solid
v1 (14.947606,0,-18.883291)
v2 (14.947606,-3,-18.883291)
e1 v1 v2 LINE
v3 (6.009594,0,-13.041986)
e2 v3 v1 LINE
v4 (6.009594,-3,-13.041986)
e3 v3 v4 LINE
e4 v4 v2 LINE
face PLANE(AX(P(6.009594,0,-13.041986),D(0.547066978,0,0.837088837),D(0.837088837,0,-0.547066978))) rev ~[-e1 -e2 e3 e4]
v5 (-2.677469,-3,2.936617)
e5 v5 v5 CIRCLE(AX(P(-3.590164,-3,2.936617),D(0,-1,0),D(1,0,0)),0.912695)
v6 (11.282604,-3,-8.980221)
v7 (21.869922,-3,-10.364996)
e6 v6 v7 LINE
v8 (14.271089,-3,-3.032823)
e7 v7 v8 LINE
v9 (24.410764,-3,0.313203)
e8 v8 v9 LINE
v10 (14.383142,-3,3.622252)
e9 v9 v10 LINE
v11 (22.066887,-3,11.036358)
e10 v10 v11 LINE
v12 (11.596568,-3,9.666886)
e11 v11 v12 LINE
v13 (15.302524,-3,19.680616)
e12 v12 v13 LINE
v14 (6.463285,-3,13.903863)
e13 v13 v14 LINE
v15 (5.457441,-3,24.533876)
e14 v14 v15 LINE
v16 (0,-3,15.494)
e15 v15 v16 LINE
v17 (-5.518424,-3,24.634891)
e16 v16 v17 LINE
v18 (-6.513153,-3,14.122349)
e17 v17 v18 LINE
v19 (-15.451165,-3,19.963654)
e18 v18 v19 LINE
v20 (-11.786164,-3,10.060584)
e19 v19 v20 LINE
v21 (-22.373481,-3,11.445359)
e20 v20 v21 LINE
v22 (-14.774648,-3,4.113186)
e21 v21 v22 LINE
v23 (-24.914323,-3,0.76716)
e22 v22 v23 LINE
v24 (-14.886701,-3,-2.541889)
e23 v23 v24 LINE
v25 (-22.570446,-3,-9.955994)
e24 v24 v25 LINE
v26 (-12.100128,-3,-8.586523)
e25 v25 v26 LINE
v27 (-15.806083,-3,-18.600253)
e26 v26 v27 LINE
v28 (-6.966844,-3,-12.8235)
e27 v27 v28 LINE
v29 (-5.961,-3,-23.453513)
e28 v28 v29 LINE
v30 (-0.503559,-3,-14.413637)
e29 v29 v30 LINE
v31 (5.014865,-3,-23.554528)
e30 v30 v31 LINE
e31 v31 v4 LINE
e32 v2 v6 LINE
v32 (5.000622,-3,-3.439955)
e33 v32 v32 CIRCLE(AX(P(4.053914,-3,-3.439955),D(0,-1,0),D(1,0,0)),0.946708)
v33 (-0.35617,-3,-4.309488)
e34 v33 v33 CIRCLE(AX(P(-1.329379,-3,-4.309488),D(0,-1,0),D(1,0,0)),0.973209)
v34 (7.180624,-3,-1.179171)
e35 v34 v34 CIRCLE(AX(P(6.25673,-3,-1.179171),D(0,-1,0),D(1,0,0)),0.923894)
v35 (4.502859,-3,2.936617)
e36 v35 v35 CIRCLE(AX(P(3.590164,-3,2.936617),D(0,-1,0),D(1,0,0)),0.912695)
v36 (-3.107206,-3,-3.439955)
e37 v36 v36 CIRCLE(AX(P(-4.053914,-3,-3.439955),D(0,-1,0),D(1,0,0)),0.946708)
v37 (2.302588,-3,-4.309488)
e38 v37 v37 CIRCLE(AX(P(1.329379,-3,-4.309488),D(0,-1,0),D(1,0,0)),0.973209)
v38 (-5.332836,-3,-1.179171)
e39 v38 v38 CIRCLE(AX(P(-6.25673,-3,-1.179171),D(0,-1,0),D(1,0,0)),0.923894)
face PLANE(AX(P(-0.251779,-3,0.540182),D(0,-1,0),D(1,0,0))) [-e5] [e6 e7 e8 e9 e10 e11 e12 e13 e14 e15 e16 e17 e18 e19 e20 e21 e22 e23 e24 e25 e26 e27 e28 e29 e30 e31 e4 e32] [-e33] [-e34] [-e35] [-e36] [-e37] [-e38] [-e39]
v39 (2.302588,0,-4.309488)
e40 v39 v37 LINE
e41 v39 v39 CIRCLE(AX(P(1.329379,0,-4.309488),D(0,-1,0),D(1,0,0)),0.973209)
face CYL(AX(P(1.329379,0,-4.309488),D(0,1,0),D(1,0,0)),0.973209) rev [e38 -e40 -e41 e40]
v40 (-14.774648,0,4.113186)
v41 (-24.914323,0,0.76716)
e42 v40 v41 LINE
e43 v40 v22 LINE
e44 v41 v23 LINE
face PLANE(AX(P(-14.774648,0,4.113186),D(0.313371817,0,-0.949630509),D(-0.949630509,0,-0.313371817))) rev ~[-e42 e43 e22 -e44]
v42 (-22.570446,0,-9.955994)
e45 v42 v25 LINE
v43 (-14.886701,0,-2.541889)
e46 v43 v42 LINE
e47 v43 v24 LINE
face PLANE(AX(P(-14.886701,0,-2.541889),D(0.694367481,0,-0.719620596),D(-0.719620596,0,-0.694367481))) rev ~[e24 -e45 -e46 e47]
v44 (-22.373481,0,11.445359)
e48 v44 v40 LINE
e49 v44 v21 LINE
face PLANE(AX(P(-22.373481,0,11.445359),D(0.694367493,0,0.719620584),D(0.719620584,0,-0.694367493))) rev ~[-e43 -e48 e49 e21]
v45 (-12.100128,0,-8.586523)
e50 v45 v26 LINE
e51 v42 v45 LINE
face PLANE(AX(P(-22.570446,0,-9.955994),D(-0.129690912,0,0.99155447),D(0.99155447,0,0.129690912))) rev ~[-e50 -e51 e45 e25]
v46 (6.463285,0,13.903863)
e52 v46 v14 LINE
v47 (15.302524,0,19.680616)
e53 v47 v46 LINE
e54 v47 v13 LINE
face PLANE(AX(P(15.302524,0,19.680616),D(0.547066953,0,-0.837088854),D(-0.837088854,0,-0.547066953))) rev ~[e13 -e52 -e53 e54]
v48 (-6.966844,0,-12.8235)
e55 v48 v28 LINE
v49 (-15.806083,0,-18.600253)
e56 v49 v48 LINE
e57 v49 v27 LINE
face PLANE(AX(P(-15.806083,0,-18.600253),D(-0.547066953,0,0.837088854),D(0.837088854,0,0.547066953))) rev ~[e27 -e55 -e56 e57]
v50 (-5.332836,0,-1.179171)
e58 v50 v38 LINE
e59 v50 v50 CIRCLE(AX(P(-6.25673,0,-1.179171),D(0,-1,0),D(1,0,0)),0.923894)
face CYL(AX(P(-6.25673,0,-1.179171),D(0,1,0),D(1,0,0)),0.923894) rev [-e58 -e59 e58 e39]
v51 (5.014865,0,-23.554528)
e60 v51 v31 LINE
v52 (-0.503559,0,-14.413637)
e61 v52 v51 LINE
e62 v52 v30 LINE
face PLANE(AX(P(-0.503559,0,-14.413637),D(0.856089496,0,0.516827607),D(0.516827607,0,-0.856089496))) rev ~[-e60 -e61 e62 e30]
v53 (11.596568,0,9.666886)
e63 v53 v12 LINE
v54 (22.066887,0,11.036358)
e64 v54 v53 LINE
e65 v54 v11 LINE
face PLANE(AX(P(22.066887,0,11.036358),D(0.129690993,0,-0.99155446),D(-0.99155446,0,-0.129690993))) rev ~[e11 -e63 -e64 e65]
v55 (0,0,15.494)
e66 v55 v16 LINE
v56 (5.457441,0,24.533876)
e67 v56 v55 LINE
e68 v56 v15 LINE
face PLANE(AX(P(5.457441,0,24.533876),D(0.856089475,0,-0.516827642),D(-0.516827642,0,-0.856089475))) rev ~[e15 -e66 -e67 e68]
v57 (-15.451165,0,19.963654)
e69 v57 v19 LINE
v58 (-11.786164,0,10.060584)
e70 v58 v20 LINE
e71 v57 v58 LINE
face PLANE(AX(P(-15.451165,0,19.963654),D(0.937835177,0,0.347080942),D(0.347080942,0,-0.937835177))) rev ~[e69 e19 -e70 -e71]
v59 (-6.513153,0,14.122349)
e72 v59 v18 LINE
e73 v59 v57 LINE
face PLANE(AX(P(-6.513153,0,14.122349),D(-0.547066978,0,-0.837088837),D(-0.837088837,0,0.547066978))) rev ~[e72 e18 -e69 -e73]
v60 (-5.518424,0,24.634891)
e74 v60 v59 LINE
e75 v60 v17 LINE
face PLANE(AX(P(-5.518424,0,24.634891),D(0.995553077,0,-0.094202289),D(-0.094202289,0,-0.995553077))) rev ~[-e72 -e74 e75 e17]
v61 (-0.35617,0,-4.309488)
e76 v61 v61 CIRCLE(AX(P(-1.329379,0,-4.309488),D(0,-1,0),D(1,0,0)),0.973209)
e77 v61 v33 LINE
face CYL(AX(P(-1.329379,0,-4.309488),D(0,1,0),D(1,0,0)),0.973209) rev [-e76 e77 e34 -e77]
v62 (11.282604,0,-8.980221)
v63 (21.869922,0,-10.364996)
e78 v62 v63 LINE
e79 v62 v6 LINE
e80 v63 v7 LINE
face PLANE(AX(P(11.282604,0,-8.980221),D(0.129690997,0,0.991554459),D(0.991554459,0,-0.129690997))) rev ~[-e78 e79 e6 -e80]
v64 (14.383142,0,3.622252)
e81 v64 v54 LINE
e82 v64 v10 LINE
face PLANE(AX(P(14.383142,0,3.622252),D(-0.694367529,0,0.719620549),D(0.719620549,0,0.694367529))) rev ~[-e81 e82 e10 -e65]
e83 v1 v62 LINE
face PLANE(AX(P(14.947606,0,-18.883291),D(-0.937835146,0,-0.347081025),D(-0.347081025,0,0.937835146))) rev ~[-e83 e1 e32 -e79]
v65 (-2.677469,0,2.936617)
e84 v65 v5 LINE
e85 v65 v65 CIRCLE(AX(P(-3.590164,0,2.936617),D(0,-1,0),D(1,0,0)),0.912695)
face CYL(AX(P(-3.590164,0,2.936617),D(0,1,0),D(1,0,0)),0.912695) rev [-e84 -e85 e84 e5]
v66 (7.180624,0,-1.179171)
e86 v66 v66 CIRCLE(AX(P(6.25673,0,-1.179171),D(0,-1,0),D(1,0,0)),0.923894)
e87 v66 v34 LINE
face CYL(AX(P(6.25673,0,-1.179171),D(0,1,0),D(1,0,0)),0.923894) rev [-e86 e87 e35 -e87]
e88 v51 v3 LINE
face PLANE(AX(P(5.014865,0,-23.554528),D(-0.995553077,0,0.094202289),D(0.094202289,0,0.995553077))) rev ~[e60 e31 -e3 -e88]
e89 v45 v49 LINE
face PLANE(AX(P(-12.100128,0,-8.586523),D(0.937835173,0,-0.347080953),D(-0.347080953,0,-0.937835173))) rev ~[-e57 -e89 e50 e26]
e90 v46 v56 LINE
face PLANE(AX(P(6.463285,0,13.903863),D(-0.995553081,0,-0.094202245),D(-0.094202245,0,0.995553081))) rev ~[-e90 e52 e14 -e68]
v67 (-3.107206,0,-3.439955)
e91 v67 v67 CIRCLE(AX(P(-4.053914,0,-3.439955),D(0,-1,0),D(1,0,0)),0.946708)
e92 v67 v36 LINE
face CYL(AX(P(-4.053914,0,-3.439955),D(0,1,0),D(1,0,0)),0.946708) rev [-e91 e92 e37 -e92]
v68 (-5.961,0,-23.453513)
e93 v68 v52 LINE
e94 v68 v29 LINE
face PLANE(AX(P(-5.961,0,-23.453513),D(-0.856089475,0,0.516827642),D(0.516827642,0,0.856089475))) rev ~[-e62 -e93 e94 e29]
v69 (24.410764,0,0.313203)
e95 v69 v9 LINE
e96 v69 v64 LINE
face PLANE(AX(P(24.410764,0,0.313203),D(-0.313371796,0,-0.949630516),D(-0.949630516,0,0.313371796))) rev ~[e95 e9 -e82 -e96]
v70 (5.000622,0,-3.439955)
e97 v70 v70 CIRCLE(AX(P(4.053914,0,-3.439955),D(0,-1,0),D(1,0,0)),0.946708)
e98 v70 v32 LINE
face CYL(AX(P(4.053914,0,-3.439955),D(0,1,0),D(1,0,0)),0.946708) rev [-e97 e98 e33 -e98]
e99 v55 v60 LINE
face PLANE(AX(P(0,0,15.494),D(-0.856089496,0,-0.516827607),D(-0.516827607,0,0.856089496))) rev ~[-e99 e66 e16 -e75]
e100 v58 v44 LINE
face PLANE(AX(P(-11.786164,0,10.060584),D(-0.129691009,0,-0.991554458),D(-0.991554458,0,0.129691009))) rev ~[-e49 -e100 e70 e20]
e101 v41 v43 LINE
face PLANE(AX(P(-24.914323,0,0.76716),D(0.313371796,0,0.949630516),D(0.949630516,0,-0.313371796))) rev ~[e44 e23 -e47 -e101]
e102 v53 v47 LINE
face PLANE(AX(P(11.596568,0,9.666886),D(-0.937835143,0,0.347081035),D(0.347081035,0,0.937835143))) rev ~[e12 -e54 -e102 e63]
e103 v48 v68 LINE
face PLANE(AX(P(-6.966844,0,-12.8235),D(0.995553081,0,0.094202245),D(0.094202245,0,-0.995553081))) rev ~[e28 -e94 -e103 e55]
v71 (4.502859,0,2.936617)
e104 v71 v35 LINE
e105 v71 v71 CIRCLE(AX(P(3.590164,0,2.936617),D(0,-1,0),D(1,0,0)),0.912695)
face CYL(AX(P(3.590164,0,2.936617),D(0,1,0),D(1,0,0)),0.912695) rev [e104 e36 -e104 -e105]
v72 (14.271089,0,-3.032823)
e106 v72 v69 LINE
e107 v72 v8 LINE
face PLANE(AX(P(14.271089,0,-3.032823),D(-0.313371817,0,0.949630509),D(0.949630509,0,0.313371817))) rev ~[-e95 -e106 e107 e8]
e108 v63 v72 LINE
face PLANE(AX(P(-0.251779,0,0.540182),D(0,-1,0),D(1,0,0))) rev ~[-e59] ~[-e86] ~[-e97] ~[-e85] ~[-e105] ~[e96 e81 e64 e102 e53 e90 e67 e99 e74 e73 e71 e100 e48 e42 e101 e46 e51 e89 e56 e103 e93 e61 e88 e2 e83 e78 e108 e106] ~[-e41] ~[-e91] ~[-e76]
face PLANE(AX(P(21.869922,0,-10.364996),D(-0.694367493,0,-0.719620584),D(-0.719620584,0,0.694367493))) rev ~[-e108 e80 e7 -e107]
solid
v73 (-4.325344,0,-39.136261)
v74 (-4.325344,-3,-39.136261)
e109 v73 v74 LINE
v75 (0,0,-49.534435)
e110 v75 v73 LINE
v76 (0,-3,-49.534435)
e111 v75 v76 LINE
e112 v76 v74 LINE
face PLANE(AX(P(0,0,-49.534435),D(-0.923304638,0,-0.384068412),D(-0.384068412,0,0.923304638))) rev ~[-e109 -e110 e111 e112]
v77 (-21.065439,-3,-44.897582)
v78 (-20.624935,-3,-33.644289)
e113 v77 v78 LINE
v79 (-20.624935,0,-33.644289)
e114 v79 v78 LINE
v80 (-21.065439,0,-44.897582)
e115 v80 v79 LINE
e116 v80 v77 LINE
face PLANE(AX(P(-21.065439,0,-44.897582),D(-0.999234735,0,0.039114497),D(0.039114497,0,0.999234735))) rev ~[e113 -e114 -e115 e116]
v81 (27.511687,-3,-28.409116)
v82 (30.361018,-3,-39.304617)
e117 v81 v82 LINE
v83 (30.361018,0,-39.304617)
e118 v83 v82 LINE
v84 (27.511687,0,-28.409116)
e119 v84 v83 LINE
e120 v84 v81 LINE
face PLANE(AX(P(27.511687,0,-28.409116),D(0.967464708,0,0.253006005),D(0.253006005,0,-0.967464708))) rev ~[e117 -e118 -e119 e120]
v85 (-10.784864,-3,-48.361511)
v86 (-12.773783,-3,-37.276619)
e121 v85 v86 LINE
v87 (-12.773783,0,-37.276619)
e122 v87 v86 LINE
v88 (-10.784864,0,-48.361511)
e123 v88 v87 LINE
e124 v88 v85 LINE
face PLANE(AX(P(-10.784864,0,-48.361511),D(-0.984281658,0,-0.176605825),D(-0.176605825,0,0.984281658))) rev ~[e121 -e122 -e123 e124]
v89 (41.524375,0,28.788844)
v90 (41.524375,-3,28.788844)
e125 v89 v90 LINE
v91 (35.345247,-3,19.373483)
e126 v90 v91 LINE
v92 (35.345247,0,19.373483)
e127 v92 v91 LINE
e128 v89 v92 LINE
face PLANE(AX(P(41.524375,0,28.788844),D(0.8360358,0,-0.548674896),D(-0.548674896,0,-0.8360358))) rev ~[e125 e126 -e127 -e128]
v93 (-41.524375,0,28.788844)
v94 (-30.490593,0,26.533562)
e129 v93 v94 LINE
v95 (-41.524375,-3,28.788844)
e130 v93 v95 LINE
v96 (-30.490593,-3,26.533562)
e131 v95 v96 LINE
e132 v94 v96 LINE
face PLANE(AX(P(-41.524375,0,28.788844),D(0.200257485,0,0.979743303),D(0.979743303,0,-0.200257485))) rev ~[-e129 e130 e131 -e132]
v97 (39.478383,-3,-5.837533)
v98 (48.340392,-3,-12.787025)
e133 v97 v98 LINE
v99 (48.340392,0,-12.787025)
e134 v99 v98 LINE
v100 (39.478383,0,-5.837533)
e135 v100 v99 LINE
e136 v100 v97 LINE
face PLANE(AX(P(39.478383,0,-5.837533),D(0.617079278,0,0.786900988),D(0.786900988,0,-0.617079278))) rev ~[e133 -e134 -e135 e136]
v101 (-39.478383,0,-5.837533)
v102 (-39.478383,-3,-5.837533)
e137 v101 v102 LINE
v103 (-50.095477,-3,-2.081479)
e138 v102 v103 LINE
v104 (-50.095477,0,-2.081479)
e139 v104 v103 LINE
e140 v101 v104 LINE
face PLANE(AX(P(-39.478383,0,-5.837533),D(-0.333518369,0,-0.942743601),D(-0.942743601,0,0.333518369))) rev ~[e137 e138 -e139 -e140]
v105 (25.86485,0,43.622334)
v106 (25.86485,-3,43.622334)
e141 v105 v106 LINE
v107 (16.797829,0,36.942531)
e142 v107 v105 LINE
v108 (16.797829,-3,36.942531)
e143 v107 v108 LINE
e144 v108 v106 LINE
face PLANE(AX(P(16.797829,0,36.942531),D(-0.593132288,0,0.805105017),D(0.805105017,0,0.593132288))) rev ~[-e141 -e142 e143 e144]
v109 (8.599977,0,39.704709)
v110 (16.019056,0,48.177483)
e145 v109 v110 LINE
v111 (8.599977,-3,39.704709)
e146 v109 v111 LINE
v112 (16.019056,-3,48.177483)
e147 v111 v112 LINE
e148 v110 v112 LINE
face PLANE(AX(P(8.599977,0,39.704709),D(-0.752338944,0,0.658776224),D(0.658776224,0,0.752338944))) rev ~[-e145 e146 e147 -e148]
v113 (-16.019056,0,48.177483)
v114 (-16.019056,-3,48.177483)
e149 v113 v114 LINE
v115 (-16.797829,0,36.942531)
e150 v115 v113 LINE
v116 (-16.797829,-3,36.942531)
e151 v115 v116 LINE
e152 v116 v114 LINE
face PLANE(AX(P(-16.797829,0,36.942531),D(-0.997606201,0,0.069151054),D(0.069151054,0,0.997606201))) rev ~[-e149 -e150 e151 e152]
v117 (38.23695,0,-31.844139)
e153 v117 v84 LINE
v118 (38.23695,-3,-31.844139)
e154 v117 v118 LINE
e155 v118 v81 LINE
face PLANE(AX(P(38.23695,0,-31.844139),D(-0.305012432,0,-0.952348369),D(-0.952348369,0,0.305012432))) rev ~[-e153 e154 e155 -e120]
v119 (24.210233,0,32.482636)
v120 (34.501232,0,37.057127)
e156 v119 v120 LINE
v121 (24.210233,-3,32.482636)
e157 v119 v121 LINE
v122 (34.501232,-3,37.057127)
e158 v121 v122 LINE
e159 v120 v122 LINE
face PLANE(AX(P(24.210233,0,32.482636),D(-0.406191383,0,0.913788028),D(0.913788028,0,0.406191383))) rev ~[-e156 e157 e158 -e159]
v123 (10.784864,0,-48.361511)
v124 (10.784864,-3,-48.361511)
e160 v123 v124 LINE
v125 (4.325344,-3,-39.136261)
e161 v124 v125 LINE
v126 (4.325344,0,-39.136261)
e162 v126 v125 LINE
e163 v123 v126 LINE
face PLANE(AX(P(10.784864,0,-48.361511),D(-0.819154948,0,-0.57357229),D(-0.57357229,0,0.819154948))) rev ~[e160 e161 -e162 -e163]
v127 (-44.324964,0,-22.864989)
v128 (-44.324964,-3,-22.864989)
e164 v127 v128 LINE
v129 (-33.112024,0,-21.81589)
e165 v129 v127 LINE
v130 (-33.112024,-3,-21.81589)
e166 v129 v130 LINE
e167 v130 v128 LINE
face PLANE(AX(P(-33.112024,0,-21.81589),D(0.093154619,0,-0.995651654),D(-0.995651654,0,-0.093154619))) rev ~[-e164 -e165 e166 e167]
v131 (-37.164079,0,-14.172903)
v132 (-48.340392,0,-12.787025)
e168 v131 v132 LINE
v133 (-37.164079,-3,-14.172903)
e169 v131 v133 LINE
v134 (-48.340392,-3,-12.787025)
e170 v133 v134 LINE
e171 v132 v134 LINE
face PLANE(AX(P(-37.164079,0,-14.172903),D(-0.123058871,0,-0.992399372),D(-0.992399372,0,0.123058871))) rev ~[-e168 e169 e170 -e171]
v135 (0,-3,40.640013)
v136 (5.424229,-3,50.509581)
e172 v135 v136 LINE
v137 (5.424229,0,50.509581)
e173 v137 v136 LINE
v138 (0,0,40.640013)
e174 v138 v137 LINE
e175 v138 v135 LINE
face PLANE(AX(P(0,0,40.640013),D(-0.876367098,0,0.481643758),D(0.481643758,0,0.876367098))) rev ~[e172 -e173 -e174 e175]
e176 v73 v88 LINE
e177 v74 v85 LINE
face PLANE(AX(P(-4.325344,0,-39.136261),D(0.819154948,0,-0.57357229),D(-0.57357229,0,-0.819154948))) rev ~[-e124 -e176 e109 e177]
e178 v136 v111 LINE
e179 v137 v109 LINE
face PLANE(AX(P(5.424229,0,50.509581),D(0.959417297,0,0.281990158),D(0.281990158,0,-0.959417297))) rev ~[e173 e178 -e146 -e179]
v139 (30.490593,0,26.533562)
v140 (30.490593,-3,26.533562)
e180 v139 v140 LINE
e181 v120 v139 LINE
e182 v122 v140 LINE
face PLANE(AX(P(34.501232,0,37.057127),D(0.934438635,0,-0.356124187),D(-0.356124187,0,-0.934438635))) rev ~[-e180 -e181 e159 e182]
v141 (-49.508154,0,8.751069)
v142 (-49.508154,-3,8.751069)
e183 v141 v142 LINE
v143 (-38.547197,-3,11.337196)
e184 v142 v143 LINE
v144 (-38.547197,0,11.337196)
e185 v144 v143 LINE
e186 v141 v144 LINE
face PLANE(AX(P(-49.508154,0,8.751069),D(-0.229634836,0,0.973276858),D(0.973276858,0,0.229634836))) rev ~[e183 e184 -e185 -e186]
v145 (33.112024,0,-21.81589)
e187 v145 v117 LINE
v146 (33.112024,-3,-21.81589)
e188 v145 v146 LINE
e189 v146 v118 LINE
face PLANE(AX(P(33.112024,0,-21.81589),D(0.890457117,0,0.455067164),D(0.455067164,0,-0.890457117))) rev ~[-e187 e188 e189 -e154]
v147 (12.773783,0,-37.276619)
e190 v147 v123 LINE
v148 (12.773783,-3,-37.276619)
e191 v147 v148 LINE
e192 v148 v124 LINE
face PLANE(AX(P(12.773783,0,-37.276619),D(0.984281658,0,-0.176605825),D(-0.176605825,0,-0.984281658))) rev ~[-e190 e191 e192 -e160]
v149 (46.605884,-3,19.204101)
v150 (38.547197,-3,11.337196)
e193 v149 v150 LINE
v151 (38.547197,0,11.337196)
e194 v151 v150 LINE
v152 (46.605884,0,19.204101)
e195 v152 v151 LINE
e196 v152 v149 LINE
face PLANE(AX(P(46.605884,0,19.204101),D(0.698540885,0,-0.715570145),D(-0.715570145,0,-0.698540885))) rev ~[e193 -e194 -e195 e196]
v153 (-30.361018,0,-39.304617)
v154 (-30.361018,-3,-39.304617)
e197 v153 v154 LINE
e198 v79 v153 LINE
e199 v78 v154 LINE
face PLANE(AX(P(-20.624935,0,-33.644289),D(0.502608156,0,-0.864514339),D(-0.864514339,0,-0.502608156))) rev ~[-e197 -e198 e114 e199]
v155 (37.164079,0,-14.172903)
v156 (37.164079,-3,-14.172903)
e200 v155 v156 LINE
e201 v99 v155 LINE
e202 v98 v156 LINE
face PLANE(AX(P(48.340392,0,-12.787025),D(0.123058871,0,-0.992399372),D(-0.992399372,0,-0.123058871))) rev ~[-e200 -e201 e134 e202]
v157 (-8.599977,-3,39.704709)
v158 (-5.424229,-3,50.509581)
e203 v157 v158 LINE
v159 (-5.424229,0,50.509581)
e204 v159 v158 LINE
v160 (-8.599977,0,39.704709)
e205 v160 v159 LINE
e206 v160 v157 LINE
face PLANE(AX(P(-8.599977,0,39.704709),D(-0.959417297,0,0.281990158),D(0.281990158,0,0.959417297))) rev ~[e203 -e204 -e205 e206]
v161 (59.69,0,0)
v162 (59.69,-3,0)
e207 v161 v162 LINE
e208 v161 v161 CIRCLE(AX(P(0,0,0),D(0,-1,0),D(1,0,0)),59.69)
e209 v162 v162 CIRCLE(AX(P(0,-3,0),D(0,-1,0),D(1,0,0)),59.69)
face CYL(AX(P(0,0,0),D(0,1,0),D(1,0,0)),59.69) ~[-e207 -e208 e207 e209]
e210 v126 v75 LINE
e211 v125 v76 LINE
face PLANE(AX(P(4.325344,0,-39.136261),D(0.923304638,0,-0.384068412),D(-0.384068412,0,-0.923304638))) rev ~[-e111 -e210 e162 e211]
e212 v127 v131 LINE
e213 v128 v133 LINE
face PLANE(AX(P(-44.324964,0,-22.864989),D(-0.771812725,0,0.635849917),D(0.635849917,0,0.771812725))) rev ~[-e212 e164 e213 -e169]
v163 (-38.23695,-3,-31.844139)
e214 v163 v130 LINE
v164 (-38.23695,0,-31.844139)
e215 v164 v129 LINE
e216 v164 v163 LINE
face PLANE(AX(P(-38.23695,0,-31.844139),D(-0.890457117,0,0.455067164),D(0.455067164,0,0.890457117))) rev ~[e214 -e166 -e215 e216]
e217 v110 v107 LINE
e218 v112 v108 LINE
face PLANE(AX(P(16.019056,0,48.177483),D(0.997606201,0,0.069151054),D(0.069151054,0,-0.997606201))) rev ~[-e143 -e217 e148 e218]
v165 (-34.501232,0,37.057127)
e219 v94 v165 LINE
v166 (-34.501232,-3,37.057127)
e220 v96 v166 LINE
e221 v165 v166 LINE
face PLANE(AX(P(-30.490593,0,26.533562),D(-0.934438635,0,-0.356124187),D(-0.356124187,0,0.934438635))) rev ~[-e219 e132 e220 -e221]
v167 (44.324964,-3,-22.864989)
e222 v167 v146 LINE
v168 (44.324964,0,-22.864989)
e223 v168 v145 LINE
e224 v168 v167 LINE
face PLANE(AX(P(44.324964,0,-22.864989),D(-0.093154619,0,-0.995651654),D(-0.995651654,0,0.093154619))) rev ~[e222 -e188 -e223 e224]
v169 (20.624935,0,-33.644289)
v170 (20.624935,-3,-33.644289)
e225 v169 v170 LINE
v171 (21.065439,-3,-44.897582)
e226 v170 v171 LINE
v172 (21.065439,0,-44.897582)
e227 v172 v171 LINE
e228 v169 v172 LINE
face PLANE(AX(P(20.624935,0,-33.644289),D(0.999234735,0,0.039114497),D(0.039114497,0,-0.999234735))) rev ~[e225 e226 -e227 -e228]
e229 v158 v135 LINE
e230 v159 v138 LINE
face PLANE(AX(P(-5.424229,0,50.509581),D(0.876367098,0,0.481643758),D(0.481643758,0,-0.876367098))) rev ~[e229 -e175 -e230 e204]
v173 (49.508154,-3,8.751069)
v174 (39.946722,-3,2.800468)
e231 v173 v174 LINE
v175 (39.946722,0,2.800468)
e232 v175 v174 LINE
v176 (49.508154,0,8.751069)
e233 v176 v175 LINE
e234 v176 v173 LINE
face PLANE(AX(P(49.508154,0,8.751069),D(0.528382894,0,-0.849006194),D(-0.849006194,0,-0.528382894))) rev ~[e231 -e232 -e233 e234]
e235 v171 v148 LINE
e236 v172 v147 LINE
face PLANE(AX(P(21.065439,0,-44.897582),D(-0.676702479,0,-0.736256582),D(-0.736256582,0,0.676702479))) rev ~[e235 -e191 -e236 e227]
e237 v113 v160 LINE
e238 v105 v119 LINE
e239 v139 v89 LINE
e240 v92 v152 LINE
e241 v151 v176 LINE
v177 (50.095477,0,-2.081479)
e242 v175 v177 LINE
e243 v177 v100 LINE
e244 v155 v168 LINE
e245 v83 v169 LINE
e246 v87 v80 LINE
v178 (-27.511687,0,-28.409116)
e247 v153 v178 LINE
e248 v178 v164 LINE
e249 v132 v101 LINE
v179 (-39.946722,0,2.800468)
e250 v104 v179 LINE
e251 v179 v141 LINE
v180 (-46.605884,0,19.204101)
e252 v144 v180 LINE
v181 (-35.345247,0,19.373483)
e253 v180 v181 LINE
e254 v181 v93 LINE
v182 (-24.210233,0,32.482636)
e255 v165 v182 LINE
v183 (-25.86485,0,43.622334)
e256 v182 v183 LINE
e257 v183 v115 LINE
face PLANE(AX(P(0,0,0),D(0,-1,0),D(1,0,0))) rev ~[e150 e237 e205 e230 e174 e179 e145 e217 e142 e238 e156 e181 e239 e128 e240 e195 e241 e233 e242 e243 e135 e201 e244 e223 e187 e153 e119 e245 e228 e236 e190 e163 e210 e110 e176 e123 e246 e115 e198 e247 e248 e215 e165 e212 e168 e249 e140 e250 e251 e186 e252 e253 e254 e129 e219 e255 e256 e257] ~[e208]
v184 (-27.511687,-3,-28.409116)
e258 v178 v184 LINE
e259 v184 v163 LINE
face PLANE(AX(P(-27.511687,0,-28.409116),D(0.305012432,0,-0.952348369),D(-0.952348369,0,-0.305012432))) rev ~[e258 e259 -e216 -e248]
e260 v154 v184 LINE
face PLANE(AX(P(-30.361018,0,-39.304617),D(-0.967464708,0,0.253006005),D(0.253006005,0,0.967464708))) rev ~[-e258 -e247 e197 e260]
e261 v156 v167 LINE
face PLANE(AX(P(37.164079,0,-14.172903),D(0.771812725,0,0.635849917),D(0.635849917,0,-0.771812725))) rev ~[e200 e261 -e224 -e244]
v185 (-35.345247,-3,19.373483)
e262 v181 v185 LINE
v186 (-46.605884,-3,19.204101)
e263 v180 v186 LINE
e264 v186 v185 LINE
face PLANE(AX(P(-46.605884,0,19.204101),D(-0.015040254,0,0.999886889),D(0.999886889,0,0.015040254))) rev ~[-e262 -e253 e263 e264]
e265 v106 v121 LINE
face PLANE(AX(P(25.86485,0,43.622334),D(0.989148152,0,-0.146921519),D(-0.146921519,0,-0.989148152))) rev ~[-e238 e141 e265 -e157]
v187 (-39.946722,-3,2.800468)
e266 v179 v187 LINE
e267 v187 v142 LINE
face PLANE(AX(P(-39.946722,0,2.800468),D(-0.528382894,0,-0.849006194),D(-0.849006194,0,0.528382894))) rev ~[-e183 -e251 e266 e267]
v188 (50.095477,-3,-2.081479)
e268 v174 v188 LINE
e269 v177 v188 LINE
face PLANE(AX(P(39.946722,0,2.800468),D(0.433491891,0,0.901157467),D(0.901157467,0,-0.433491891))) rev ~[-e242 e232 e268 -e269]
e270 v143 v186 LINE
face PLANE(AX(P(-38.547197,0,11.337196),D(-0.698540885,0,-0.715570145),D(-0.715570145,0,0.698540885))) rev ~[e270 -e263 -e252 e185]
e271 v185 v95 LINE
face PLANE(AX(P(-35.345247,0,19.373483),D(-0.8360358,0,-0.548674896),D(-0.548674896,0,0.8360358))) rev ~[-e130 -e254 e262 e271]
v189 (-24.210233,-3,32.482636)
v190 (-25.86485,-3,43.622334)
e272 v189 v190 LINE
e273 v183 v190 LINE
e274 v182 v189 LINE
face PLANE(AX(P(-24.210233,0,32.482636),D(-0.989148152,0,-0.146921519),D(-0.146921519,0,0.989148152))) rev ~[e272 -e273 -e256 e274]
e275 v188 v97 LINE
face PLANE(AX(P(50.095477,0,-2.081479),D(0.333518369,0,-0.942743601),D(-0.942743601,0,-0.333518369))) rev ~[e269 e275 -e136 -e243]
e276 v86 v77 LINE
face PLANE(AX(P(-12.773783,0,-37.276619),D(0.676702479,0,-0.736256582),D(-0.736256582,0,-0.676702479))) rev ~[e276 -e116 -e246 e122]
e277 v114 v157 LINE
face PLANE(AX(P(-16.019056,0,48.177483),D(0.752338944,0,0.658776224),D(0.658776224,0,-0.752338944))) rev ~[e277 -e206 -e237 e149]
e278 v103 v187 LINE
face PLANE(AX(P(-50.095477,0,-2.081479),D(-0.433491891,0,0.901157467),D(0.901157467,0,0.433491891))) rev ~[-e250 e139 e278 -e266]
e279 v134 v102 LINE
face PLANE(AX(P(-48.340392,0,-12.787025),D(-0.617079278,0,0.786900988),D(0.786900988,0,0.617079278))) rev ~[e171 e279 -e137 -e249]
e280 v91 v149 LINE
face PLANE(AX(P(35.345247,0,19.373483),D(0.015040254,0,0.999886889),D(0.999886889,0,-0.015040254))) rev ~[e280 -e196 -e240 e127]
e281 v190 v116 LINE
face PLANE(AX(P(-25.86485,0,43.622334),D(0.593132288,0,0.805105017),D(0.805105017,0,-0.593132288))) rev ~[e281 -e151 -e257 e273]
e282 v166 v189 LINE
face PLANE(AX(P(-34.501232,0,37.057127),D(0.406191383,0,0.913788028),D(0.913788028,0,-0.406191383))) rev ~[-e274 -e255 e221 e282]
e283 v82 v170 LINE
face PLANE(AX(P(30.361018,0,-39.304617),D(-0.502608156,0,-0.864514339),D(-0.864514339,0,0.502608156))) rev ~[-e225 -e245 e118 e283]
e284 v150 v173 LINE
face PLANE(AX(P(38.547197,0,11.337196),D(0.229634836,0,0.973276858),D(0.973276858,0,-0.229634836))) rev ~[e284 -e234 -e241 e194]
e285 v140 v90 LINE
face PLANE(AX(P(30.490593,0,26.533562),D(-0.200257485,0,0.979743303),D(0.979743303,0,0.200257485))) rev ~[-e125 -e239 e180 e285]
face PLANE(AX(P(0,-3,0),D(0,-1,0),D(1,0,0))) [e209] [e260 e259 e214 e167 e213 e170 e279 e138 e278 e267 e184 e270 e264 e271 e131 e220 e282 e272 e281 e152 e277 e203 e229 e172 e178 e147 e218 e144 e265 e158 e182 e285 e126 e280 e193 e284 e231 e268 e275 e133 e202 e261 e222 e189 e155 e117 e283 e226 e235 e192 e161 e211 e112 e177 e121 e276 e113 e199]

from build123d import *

# Parameters (mm, degrees)
F0_R     = 59.69
F0_R_2   = 0.973209
F0_R_3   = 0.946708
F0_R_4   = 0.923894
F0_R_5   = 0.912695
F1_DEPTH = 3


with BuildPart() as f1:
    # F0 (on Front) → F1 (new body)
    with BuildSketch(Plane.XZ):
        Circle(F0_R)
        Polygon((-5.424229, 50.509581), (0, 40.640013), (5.424229, 50.509581), (8.599977, 39.704709), (16.019056, 48.177483), (16.797829, 36.942531), (25.86485, 43.622334), (24.210233, 32.482636), (34.501232, 37.057127), (30.490593, 26.533562), (41.524375, 28.788844), (35.345247, 19.373483), (46.605884, 19.204101), (38.547197, 11.337196), (49.508154, 8.751069), (39.946722, 2.800468), (50.095477, -2.081479), (39.478383, -5.837533), (48.340392, -12.787025), (37.164079, -14.172903), (44.324964, -22.864989), (33.112024, -21.81589), (38.23695, -31.844139), (27.511687, -28.409116), (30.361018, -39.304617), (20.624935, -33.644289), (21.065439, -44.897582), (12.773783, -37.276619), (10.784864, -48.361511), (4.325344, -39.136261), (0, -49.534435), (-4.325344, -39.136261), (-10.784864, -48.361511), (-12.773783, -37.276619), (-21.065439, -44.897582), (-20.624935, -33.644289), (-30.361018, -39.304617), (-27.511687, -28.409116), (-38.23695, -31.844139), (-33.112024, -21.81589), (-44.324964, -22.864989), (-37.164079, -14.172903), (-48.340392, -12.787025), (-39.478383, -5.837533), (-50.095477, -2.081479), (-39.946722, 2.800468), (-49.508154, 8.751069), (-38.547197, 11.337196), (-46.605884, 19.204101), (-35.345247, 19.373483), (-41.524375, 28.788844), (-30.490593, 26.533562), (-34.501232, 37.057127), (-24.210233, 32.482636), (-25.86485, 43.622334), (-16.797829, 36.942531), (-16.019056, 48.177483), (-8.599977, 39.704709), align=None, mode=Mode.SUBTRACT)
        Polygon((5.457441, 24.533876), (0, 15.494), (-5.518424, 24.634891), (-6.513153, 14.122349), (-15.451165, 19.963654), (-11.786164, 10.060584), (-22.373481, 11.445359), (-14.774648, 4.113186), (-24.914323, 0.76716), (-14.886701, -2.541889), (-22.570446, -9.955994), (-12.100128, -8.586523), (-15.806083, -18.600253), (-6.966844, -12.8235), (-5.961, -23.453513), (-0.503559, -14.413637), (5.014865, -23.554528), (6.009594, -13.041986), (14.947606, -18.883291), (11.282604, -8.980221), (21.869922, -10.364996), (14.271089, -3.032823), (24.410764, 0.313203), (14.383142, 3.622252), (22.066887, 11.036358), (11.596568, 9.666886), (15.302524, 19.680616), (6.463285, 13.903863), align=None)
        with Locations((-1.329379, -4.309488)):
            Circle(F0_R_2, mode=Mode.SUBTRACT)
        with Locations((-4.053914, -3.439955)):
            Circle(F0_R_3, mode=Mode.SUBTRACT)
        with Locations((-6.25673, -1.179171)):
            Circle(F0_R_4, mode=Mode.SUBTRACT)
        with Locations((1.329379, -4.309488)):
            Circle(F0_R_2, mode=Mode.SUBTRACT)
        with Locations((4.053914, -3.439955)):
            Circle(F0_R_3, mode=Mode.SUBTRACT)
        with Locations((6.25673, -1.179171)):
            Circle(F0_R_4, mode=Mode.SUBTRACT)
        with Locations((-3.590164, 2.936617)):
            Circle(F0_R_5, mode=Mode.SUBTRACT)
        with Locations((3.590164, 2.936617)):
            Circle(F0_R_5, mode=Mode.SUBTRACT)
    extrude(amount=F1_DEPTH)


solid = f1.part
